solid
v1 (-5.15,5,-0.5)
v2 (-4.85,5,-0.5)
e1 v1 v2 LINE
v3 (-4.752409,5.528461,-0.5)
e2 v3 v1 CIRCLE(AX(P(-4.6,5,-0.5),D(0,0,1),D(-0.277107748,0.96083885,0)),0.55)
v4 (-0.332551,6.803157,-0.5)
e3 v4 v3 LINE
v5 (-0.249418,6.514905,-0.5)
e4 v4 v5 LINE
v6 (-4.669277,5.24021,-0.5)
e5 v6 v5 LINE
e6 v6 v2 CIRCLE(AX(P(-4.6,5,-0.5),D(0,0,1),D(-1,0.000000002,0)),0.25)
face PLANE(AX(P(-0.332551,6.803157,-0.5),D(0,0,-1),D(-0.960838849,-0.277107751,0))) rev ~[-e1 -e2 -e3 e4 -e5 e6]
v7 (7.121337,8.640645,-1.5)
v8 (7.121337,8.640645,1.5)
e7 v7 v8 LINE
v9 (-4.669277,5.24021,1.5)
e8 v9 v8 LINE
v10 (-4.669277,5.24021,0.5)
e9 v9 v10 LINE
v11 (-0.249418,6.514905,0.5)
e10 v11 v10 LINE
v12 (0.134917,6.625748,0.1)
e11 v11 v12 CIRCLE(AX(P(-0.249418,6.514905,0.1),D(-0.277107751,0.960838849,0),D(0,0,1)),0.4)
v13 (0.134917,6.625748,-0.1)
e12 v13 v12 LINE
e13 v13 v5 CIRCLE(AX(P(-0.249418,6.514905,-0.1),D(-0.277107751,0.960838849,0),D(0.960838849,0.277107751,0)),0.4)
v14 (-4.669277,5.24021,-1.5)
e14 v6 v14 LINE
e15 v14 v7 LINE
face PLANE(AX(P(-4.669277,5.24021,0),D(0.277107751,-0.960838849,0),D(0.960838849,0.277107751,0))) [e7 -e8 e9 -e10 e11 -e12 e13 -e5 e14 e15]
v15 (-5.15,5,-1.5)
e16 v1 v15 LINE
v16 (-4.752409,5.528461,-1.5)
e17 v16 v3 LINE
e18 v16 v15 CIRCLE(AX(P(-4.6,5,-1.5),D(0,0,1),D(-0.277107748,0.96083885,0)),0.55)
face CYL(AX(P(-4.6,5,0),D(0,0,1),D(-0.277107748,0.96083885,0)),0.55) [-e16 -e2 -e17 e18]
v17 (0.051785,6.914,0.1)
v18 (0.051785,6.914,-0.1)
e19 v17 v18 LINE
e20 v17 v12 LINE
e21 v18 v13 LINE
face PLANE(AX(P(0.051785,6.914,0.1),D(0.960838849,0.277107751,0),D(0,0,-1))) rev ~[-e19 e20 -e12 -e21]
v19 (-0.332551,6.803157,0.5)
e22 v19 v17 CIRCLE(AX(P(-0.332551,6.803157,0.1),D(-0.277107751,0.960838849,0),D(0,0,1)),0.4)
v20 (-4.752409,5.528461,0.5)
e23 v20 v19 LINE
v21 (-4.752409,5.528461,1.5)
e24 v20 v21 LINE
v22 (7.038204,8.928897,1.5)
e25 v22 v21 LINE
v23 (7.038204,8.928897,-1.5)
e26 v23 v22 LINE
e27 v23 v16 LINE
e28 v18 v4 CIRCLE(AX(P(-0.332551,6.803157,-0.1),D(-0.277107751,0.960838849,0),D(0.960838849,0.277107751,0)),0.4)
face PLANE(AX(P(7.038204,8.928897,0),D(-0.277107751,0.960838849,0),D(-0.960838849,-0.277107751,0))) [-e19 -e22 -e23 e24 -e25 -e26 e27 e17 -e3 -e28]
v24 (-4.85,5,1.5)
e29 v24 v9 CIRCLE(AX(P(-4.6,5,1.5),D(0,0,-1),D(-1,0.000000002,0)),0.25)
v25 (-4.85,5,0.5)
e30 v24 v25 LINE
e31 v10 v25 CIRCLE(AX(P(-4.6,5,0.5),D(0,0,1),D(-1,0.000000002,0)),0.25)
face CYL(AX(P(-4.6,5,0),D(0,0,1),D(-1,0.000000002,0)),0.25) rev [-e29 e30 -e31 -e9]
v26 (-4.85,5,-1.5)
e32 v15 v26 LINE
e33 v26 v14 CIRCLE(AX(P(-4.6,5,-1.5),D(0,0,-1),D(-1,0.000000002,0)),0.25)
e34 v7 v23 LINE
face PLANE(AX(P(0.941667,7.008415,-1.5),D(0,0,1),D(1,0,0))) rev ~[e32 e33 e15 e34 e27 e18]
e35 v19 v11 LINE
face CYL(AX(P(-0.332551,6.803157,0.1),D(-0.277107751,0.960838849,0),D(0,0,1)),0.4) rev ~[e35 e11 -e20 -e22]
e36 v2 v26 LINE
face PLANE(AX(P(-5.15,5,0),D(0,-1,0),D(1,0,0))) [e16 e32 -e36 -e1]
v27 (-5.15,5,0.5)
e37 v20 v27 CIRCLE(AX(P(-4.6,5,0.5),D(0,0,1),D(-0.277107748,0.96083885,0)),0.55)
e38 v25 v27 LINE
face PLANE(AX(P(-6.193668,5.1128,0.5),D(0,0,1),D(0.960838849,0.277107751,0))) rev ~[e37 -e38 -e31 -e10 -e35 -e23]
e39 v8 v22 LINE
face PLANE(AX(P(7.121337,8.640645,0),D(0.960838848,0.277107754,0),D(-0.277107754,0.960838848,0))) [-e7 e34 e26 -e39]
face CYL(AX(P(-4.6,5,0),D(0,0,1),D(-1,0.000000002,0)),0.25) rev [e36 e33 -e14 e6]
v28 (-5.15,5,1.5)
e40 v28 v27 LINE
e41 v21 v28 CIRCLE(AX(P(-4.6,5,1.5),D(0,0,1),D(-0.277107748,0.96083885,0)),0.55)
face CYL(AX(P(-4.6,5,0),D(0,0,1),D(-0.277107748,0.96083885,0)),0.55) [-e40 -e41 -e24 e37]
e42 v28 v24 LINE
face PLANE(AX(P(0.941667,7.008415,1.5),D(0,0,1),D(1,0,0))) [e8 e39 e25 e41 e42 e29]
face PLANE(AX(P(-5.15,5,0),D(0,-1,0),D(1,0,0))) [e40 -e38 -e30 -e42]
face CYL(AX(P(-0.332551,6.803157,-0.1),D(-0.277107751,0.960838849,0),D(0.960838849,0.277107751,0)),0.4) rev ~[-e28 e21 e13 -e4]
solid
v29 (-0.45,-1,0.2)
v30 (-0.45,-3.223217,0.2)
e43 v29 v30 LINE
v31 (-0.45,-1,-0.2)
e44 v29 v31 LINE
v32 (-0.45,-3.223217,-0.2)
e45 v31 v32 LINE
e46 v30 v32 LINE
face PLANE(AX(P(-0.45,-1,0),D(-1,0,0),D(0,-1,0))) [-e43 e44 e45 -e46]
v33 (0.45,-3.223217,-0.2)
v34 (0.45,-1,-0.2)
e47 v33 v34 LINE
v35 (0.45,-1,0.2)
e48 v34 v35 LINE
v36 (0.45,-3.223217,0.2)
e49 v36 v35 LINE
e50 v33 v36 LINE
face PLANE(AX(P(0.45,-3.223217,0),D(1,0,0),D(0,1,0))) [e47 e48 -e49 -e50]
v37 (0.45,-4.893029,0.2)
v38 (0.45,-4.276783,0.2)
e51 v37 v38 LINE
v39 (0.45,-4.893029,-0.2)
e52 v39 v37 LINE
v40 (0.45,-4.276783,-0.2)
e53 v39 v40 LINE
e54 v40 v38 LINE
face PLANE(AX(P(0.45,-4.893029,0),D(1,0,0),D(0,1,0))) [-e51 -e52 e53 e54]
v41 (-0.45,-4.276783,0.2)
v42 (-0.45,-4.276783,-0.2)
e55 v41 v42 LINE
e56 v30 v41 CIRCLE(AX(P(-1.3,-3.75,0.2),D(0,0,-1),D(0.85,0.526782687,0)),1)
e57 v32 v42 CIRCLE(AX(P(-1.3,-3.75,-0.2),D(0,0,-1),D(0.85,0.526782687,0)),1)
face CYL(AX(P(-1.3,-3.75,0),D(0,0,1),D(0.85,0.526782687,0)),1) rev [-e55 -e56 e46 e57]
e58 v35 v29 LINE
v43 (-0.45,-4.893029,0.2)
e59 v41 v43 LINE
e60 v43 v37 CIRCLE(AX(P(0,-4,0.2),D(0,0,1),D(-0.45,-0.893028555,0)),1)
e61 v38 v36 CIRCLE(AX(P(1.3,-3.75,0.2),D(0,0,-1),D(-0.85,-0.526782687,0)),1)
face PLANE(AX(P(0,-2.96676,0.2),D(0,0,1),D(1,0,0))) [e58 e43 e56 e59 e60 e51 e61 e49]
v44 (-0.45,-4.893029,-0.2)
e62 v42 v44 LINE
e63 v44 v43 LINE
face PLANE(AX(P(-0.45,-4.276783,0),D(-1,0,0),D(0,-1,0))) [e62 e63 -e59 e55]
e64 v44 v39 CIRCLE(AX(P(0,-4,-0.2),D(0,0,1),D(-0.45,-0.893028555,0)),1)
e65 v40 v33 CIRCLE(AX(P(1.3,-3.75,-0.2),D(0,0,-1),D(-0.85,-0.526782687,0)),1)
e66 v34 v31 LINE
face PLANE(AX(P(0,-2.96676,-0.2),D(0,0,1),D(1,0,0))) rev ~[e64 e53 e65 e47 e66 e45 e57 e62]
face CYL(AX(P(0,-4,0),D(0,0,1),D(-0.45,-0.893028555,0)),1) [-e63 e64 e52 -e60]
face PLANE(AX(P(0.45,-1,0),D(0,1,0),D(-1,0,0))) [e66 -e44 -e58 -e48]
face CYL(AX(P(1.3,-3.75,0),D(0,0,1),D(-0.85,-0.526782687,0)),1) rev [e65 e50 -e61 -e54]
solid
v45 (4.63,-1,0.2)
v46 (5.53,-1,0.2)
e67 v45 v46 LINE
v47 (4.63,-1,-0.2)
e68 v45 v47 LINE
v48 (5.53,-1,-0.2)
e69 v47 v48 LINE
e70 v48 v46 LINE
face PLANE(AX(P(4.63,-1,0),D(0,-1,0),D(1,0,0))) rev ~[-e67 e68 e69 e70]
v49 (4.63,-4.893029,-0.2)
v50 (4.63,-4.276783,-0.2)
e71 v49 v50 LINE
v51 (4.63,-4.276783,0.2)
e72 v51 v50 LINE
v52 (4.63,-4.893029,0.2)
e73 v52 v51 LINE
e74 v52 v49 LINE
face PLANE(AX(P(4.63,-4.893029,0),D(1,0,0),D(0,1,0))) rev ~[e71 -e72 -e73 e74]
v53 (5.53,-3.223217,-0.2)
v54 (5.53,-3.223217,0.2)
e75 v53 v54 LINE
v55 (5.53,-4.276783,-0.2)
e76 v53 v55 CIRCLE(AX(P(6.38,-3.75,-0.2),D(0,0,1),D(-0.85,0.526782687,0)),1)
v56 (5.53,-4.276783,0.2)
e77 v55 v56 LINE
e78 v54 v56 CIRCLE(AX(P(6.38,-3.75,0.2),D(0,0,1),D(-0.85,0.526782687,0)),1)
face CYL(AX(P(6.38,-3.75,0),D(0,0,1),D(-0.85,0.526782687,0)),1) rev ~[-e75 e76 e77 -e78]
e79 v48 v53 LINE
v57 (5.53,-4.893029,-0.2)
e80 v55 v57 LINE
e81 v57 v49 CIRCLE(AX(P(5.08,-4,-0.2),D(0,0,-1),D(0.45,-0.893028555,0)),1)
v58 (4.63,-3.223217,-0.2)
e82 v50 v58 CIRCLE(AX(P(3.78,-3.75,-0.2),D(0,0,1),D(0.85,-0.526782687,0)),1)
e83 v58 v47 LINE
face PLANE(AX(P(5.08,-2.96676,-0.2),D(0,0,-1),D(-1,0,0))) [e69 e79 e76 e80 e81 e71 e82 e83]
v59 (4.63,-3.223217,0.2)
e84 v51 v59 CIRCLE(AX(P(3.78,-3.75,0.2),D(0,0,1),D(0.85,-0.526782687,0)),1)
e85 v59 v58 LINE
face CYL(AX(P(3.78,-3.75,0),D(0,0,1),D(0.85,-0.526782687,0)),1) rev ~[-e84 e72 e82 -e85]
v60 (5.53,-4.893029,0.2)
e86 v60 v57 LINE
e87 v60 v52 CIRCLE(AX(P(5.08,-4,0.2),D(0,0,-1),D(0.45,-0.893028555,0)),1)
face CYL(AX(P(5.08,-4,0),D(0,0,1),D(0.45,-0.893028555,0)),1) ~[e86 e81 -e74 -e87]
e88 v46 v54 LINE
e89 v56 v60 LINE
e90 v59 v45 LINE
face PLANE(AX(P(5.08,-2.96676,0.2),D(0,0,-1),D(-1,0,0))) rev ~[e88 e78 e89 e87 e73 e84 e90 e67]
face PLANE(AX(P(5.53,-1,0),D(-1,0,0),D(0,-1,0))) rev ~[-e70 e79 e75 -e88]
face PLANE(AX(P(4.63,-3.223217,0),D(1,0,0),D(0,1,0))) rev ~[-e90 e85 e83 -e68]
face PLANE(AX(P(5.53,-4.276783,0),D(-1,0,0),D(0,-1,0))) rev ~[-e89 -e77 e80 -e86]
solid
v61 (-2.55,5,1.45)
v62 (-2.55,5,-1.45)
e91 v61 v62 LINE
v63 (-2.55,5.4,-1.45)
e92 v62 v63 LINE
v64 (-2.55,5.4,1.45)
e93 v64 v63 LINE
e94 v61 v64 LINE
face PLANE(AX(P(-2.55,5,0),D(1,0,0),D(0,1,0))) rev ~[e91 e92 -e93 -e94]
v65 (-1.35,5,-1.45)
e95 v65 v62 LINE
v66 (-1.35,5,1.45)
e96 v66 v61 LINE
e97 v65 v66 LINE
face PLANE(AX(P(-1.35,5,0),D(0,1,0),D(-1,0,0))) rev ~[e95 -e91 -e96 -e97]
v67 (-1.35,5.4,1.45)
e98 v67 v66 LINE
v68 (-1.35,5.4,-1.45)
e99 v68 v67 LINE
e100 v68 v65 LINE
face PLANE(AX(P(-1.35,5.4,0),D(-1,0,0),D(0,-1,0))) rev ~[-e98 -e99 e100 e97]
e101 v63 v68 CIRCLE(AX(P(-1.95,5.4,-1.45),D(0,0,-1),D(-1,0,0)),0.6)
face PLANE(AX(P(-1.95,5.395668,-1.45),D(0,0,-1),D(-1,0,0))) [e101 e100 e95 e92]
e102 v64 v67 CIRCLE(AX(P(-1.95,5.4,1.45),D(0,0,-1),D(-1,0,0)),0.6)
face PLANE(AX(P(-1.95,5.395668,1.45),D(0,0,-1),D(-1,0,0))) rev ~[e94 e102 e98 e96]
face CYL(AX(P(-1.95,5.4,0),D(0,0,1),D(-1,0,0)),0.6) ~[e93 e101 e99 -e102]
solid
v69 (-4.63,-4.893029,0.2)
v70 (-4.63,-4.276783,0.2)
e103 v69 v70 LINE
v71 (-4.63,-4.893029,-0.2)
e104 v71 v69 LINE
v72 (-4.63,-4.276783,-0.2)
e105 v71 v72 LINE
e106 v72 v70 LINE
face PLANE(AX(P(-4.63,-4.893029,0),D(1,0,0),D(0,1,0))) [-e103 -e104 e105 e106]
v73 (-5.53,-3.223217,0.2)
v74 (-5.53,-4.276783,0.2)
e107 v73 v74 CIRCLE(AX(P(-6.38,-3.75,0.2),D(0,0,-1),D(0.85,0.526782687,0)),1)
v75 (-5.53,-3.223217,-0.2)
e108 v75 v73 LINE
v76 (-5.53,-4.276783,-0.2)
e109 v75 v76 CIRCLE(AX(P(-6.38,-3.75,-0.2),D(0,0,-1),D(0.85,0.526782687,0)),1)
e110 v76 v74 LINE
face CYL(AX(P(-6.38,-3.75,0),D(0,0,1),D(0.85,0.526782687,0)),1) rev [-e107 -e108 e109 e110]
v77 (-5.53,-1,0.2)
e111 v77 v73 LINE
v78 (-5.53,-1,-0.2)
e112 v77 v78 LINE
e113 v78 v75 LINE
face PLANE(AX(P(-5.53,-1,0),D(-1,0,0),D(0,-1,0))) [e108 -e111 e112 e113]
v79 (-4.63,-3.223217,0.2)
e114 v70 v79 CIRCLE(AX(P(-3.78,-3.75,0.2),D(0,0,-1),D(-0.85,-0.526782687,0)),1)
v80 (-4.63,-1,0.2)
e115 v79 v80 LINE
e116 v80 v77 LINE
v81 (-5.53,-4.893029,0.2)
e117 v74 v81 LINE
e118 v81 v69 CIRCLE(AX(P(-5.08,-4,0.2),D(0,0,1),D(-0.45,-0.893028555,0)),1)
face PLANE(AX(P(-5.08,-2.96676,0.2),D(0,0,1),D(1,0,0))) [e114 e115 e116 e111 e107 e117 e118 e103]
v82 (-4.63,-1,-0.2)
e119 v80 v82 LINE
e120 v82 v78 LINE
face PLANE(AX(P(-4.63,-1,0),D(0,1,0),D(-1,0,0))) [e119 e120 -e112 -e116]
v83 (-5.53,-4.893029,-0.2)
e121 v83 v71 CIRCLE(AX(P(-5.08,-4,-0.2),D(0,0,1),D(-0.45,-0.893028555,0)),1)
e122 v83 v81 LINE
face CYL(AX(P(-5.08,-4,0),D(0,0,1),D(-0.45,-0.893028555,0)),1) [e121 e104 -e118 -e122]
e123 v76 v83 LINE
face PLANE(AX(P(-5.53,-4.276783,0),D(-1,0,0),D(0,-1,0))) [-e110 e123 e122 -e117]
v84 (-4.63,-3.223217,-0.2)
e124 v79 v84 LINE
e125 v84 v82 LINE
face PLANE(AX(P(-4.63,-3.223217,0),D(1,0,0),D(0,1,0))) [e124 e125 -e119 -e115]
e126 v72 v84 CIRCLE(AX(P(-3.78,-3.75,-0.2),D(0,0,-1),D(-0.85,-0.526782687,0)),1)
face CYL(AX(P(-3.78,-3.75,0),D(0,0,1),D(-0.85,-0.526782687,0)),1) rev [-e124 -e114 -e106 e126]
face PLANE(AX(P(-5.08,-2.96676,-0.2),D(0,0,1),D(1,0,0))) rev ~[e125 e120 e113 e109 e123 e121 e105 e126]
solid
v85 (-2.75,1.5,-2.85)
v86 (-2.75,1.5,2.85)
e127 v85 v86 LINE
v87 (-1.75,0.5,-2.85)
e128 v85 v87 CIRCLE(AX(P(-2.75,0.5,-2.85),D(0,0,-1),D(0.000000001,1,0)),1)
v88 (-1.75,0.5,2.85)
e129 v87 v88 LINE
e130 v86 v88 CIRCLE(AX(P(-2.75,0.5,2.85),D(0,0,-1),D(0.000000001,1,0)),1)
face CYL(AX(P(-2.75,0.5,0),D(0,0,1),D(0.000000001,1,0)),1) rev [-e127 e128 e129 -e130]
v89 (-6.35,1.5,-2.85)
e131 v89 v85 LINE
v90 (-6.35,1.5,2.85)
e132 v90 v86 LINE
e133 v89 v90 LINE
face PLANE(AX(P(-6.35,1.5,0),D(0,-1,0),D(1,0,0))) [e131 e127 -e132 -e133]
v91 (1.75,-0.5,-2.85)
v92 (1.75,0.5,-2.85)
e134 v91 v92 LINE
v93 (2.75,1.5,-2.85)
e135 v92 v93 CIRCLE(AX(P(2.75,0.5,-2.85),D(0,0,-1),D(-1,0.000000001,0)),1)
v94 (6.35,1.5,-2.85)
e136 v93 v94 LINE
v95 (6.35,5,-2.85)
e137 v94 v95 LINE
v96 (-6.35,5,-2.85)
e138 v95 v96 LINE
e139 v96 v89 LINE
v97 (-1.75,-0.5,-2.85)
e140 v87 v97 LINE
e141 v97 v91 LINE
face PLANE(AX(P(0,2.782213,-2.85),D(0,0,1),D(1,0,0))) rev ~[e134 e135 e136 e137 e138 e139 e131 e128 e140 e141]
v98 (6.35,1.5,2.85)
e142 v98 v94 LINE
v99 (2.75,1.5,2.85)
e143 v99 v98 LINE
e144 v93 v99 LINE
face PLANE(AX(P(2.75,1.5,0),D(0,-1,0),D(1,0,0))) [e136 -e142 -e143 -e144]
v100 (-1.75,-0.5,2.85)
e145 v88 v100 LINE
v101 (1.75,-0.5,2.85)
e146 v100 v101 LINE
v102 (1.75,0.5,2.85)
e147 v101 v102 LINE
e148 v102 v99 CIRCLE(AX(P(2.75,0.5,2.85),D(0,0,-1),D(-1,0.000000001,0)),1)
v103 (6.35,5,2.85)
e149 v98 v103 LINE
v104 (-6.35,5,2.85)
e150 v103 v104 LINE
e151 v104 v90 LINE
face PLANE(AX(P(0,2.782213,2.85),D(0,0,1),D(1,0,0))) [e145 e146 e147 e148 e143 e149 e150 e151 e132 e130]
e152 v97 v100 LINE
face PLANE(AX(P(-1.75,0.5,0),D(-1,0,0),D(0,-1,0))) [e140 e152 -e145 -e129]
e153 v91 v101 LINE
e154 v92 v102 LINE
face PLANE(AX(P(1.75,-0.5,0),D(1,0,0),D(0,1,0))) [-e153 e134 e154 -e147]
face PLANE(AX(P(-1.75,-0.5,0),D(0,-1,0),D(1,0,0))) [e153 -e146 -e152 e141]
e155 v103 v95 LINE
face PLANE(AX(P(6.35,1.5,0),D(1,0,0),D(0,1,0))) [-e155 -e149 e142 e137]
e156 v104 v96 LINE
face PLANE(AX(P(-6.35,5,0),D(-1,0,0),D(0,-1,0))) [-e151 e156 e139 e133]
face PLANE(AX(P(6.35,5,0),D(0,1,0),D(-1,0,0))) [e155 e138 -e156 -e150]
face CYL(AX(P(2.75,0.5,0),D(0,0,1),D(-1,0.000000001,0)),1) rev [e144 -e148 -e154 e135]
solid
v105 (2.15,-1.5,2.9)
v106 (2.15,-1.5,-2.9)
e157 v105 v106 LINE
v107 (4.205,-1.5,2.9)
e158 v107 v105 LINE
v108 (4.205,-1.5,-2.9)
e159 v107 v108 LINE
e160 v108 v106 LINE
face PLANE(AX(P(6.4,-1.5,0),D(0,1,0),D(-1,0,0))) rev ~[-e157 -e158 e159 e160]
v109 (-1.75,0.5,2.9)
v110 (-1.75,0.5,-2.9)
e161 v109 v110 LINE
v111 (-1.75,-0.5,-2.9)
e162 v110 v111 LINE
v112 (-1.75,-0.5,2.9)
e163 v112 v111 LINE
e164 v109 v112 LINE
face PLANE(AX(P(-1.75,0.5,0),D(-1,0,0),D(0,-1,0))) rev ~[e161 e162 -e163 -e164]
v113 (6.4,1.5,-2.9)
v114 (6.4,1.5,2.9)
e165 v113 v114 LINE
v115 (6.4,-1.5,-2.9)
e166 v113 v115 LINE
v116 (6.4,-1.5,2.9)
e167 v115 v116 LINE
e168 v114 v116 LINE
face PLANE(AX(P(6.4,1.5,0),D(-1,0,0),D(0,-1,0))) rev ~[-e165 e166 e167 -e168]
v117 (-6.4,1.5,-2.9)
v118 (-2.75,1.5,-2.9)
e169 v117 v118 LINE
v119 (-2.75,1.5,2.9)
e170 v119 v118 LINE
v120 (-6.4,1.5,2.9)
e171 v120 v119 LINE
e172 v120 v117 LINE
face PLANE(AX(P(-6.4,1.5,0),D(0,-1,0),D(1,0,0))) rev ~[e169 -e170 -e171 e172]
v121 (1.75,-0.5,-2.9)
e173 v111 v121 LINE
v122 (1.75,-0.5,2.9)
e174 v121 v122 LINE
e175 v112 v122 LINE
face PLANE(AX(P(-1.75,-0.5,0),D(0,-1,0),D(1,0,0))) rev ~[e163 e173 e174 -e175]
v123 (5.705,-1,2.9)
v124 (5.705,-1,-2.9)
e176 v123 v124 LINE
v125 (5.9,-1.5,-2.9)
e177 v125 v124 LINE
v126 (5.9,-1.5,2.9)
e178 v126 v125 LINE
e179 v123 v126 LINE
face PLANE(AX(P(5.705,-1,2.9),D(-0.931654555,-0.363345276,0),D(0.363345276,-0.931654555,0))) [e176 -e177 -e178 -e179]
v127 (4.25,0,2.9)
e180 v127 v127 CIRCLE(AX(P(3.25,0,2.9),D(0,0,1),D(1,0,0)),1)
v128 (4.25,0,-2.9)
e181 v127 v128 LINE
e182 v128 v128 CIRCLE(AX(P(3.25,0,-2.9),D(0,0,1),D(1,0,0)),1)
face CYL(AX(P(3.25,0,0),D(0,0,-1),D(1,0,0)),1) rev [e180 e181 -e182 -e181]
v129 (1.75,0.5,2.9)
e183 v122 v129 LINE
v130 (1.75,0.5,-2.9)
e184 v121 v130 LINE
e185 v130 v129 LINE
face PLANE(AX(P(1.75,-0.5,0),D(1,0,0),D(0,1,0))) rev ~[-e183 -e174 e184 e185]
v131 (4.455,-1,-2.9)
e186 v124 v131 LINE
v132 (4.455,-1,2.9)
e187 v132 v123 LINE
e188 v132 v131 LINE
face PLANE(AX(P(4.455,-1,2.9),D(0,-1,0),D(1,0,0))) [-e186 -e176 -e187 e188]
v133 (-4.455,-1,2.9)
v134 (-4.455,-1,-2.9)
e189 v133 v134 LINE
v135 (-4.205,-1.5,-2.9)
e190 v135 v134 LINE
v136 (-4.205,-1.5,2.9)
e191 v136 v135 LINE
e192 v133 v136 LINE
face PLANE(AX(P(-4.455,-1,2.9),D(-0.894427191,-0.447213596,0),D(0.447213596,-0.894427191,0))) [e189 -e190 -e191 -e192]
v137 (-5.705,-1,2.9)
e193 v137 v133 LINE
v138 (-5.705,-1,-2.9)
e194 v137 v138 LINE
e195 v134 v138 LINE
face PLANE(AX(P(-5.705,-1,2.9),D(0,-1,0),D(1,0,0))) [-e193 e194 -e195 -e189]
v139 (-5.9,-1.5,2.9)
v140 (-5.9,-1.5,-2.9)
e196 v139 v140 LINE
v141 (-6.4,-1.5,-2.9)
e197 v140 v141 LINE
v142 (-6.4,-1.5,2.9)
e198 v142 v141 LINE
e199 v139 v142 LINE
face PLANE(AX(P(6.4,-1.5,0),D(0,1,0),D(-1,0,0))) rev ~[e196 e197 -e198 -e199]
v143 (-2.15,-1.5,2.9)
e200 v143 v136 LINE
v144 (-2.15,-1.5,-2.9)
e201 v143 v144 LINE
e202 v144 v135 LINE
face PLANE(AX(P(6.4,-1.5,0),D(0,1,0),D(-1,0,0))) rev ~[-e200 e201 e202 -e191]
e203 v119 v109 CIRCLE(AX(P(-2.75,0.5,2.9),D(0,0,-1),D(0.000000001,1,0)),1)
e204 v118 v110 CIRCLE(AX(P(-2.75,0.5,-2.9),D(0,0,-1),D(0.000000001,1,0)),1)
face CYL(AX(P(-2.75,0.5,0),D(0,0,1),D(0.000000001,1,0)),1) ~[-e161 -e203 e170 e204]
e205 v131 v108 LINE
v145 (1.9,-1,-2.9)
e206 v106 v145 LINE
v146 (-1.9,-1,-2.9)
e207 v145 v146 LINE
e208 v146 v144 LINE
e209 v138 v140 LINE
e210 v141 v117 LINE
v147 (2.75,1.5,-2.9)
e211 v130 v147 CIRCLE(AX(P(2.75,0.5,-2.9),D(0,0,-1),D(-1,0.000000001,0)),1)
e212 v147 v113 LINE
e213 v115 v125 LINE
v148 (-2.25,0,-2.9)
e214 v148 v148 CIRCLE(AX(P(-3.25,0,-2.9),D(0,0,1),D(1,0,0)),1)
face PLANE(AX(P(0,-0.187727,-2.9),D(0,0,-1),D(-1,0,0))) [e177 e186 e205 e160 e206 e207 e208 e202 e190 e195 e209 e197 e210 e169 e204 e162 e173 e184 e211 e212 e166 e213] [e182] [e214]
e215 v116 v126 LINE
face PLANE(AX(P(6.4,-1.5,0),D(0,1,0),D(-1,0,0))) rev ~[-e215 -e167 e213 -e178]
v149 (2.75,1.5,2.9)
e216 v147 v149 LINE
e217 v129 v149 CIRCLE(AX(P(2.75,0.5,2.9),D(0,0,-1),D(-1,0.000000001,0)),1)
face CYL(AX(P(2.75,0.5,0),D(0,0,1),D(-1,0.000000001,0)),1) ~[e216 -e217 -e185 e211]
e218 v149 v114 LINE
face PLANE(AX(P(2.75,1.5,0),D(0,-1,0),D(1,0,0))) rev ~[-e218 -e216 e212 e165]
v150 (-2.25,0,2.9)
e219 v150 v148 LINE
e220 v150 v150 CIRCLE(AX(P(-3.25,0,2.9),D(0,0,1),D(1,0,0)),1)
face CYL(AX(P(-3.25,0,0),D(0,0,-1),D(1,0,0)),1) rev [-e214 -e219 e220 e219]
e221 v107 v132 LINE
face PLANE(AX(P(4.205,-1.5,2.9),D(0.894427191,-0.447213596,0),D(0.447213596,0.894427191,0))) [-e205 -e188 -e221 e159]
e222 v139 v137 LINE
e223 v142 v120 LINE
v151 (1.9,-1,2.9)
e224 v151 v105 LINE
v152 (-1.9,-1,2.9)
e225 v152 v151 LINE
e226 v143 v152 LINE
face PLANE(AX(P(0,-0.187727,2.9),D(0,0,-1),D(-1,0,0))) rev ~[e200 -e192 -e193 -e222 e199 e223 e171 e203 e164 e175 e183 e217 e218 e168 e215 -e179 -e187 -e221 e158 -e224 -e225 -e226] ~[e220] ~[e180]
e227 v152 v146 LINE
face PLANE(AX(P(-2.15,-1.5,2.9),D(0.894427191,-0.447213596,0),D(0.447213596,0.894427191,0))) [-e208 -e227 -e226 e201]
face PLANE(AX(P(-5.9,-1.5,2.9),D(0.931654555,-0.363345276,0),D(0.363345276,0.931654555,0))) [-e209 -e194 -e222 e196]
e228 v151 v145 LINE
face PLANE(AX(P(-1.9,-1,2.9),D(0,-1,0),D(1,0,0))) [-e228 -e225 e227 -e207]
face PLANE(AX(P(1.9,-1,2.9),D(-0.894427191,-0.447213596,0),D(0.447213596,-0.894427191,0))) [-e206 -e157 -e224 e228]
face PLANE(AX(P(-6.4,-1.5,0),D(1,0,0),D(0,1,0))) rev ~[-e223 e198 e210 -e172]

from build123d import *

# Parameters (mm, degrees)
SKETCH1_R             = 1
BOSS_EXTRUDE1_DEPTH   = 2.9
BOSS_EXTRUDE2_START   = -2.9
BOSS_EXTRUDE2_DEPTH   = 2.85
CUT_EXTRUDE1_DEPTH    = 10.97997996
BOSS_EXTRUDE3_DEPTH   = 0.2
BOSS_EXTRUDE3_2_DEPTH = 0.2
BOSS_EXTRUDE3_3_DEPTH = 0.2
BOSS_EXTRUDE4_START   = -2.85
BOSS_EXTRUDE4_DEPTH   = 1.45
BOSS_EXTRUDE5_START   = -2.85
BOSS_EXTRUDE5_DEPTH   = 1.5
CUT_EXTRUDE2_DEPTH    = 15.762153366


with BuildPart() as part:
    # Sketch1 → Boss-Extrude1 (new, symmetric)
    with BuildSketch(Plane.XY):
        with BuildLine():
            Line((6.4, -1.5), (-6.4, -1.5))
            Line((-6.4, -1.5), (-6.4, 1.5))
            Line((-6.4, 1.5), (-2.75, 1.5))
            ThreePointArc((-2.75, 1.5), (-2.042893219, 1.207106781), (-1.75, 0.5))
            Line((-1.75, 0.5), (-1.75, -0.5))
            Line((-1.75, -0.5), (1.75, -0.5))
            Line((1.75, -0.5), (1.75, 0.5))
            ThreePointArc((1.75, 0.5), (2.042893219, 1.207106781), (2.75, 1.5))
            Line((2.75, 1.5), (6.4, 1.5))
            Line((6.4, 1.5), (6.4, -1.5))
        make_face()
        with Locations((-3.25, 0)):
            Circle(SKETCH1_R, mode=Mode.SUBTRACT)
        with Locations((3.25, 0)):
            Circle(SKETCH1_R, mode=Mode.SUBTRACT)
    extrude(amount=BOSS_EXTRUDE1_DEPTH, both=True)

    # Sketch4 → Cut-Extrude1 (cut, through all)
    with BuildSketch(Plane.XY.offset(2.9)):
        Polygon((-5.9, -1.5), (-5.705, -1), (-4.455, -1), (-4.205, -1.5), align=None)
        Polygon((-2.15, -1.5), (-1.9, -1), (1.9, -1), (2.15, -1.5), align=None)
        Polygon((5.9, -1.5), (4.205, -1.5), (4.455, -1), (5.705, -1), align=None)
    extrude(amount=-CUT_EXTRUDE1_DEPTH, mode=Mode.SUBTRACT)


with BuildPart() as body_2:
    # Sketch3 → Boss-Extrude2 (new, symmetric)
    with BuildSketch(Plane.XY.offset(2.9).offset(BOSS_EXTRUDE2_START)):
        with BuildLine():
            Line((-3.25, 5), (-6.35, 5))
            Line((-6.35, 5), (-6.35, 1.5))
            Line((-6.35, 1.5), (-2.75, 1.5))
            ThreePointArc((-2.75, 1.5), (-2.042893219, 1.207106781), (-1.75, 0.5))
            Line((-1.75, 0.5), (-1.75, -0.5))
            Line((-1.75, -0.5), (1.75, -0.5))
            Line((1.75, -0.5), (1.75, 0.5))
            ThreePointArc((1.75, 0.5), (2.042893219, 1.207106781), (2.75, 1.5))
            Line((2.75, 1.5), (6.35, 1.5))
            Line((6.35, 1.5), (6.35, 5))
            Line((6.35, 5), (3.25, 5))
            Line((3.25, 5), (-3.25, 5))
        make_face()
    extrude(amount=BOSS_EXTRUDE2_DEPTH, both=True)


with BuildPart() as body_3:
    # Sketch5 → Boss-Extrude3 (new, symmetric)
    with BuildSketch(Plane.XY):
        with BuildLine():
            Line((-5.53, -1), (-5.53, -3.223217312))
            ThreePointArc((-5.53, -3.223217312), (-5.38, -3.75), (-5.53, -4.276782688))
            Line((-5.53, -4.276782688), (-5.53, -4.893028555))
            ThreePointArc((-5.53, -4.893028555), (-5.08, -5), (-4.63, -4.893028555))
            Line((-4.63, -4.893028555), (-4.63, -4.276782688))
            ThreePointArc((-4.63, -4.276782688), (-4.78, -3.75), (-4.63, -3.223217312))
            Line((-4.63, -3.223217312), (-4.63, -1))
            Line((-4.63, -1), (-5.08, -1))
            Line((-5.08, -1), (-5.53, -1))
        make_face()
    extrude(amount=BOSS_EXTRUDE3_DEPTH, both=True)


with BuildPart() as body_4:
    # Sketch5 → Boss-Extrude3 2 (new, symmetric)
    with BuildSketch(Plane.XY):
        with BuildLine():
            Line((-0.45, -4.276782688), (-0.45, -4.893028555))
            ThreePointArc((-0.45, -4.893028555), (0, -5), (0.45, -4.893028555))
            Line((0.45, -4.893028555), (0.45, -4.276782688))
            ThreePointArc((0.45, -4.276782688), (0.3, -3.75), (0.45, -3.223217312))
            Line((0.45, -3.223217312), (0.45, -1))
            Line((0.45, -1), (0, -1))
            Line((0, -1), (-0.45, -1))
            Line((-0.45, -1), (-0.45, -3.223217312))
            ThreePointArc((-0.45, -3.223217312), (-0.3, -3.75), (-0.45, -4.276782688))
        make_face()
    extrude(amount=BOSS_EXTRUDE3_2_DEPTH, both=True)


with BuildPart() as body_5:
    # Sketch5 → Boss-Extrude3 3 (new, symmetric)
    with BuildSketch(Plane.XY):
        with BuildLine():
            Line((5.53, -4.276782688), (5.53, -4.893028555))
            ThreePointArc((5.53, -4.893028555), (5.08, -5), (4.63, -4.893028555))
            Line((4.63, -4.893028555), (4.63, -4.276782688))
            ThreePointArc((4.63, -4.276782688), (4.78, -3.75), (4.63, -3.223217312))
            Line((4.63, -3.223217312), (4.63, -1))
            Line((4.63, -1), (5.08, -1))
            Line((5.08, -1), (5.53, -1))
            Line((5.53, -1), (5.53, -3.223217312))
            ThreePointArc((5.53, -3.223217312), (5.38, -3.75), (5.53, -4.276782688))
        make_face()
    extrude(amount=BOSS_EXTRUDE3_3_DEPTH, both=True)


with BuildPart() as body_6:
    # Sketch6 → Boss-Extrude4 (new, symmetric)
    with BuildSketch(Plane.XY.offset(2.85).offset(BOSS_EXTRUDE4_START)):
        with BuildLine():
            Line((-1.35, 5), (-2.55, 5))
            Line((-2.55, 5), (-2.55, 5.4))
            ThreePointArc((-2.55, 5.4), (-1.95, 6), (-1.35, 5.4))
            Line((-1.35, 5.4), (-1.35, 5))
        make_face()
    extrude(amount=BOSS_EXTRUDE4_DEPTH, both=True)


with BuildPart() as body_7:
    # Sketch7 → Boss-Extrude5 (new, symmetric)
    with BuildSketch(Plane.XY.offset(2.85).offset(BOSS_EXTRUDE5_START)):
        with BuildLine():
            Line((-4.669276938, 5.240209712), (7.121336657, 8.640645089))
            Line((7.121336657, 8.640645089), (7.038204331, 8.928896743))
            Line((7.038204331, 8.928896743), (-4.752409263, 5.528461367))
            ThreePointArc((-4.752409263, 5.528461367), (-5.039502614, 5.330662143), (-5.15, 5))
            Line((-5.15, 5), (-4.85, 5))
            ThreePointArc((-4.85, 5), (-4.799773915, 5.150300974), (-4.669276938, 5.240209712))
        make_face()
    extrude(amount=BOSS_EXTRUDE5_DEPTH, both=True)

    # Sketch8 → Cut-Extrude2 (cut, through all)
    with BuildSketch(Plane(origin=(-1.836916771, 6.369294945, 0), x_dir=(0.9608388493523414, 0.27710775083939576, 0), z_dir=(-0.2771077508393957, 0.9608388493523413, 0))):
        with BuildLine():
            Line((1.565680047, 0.5), (-3.034319953, 0.5))
            Line((-3.034319953, 0.5), (-4.534319953, 0.5))
            Line((-4.534319953, 0.5), (-4.534319953, -0.5))
            Line((-4.534319953, -0.5), (-3.034319953, -0.5))
            Line((-3.034319953, -0.5), (1.565680047, -0.5))
            ThreePointArc((1.565680047, -0.5), (1.84852276, -0.382842712), (1.965680047, -0.1))
            Line((1.965680047, -0.1), (1.965680047, 0))
            Line((1.965680047, 0), (1.965680047, 0.1))
            ThreePointArc((1.965680047, 0.1), (1.84852276, 0.382842712), (1.565680047, 0.5))
        make_face()
    extrude(amount=-CUT_EXTRUDE2_DEPTH, mode=Mode.SUBTRACT)


solid = Compound([part.part, body_2.part, body_3.part, body_4.part, body_5.part, body_6.part, body_7.part])
